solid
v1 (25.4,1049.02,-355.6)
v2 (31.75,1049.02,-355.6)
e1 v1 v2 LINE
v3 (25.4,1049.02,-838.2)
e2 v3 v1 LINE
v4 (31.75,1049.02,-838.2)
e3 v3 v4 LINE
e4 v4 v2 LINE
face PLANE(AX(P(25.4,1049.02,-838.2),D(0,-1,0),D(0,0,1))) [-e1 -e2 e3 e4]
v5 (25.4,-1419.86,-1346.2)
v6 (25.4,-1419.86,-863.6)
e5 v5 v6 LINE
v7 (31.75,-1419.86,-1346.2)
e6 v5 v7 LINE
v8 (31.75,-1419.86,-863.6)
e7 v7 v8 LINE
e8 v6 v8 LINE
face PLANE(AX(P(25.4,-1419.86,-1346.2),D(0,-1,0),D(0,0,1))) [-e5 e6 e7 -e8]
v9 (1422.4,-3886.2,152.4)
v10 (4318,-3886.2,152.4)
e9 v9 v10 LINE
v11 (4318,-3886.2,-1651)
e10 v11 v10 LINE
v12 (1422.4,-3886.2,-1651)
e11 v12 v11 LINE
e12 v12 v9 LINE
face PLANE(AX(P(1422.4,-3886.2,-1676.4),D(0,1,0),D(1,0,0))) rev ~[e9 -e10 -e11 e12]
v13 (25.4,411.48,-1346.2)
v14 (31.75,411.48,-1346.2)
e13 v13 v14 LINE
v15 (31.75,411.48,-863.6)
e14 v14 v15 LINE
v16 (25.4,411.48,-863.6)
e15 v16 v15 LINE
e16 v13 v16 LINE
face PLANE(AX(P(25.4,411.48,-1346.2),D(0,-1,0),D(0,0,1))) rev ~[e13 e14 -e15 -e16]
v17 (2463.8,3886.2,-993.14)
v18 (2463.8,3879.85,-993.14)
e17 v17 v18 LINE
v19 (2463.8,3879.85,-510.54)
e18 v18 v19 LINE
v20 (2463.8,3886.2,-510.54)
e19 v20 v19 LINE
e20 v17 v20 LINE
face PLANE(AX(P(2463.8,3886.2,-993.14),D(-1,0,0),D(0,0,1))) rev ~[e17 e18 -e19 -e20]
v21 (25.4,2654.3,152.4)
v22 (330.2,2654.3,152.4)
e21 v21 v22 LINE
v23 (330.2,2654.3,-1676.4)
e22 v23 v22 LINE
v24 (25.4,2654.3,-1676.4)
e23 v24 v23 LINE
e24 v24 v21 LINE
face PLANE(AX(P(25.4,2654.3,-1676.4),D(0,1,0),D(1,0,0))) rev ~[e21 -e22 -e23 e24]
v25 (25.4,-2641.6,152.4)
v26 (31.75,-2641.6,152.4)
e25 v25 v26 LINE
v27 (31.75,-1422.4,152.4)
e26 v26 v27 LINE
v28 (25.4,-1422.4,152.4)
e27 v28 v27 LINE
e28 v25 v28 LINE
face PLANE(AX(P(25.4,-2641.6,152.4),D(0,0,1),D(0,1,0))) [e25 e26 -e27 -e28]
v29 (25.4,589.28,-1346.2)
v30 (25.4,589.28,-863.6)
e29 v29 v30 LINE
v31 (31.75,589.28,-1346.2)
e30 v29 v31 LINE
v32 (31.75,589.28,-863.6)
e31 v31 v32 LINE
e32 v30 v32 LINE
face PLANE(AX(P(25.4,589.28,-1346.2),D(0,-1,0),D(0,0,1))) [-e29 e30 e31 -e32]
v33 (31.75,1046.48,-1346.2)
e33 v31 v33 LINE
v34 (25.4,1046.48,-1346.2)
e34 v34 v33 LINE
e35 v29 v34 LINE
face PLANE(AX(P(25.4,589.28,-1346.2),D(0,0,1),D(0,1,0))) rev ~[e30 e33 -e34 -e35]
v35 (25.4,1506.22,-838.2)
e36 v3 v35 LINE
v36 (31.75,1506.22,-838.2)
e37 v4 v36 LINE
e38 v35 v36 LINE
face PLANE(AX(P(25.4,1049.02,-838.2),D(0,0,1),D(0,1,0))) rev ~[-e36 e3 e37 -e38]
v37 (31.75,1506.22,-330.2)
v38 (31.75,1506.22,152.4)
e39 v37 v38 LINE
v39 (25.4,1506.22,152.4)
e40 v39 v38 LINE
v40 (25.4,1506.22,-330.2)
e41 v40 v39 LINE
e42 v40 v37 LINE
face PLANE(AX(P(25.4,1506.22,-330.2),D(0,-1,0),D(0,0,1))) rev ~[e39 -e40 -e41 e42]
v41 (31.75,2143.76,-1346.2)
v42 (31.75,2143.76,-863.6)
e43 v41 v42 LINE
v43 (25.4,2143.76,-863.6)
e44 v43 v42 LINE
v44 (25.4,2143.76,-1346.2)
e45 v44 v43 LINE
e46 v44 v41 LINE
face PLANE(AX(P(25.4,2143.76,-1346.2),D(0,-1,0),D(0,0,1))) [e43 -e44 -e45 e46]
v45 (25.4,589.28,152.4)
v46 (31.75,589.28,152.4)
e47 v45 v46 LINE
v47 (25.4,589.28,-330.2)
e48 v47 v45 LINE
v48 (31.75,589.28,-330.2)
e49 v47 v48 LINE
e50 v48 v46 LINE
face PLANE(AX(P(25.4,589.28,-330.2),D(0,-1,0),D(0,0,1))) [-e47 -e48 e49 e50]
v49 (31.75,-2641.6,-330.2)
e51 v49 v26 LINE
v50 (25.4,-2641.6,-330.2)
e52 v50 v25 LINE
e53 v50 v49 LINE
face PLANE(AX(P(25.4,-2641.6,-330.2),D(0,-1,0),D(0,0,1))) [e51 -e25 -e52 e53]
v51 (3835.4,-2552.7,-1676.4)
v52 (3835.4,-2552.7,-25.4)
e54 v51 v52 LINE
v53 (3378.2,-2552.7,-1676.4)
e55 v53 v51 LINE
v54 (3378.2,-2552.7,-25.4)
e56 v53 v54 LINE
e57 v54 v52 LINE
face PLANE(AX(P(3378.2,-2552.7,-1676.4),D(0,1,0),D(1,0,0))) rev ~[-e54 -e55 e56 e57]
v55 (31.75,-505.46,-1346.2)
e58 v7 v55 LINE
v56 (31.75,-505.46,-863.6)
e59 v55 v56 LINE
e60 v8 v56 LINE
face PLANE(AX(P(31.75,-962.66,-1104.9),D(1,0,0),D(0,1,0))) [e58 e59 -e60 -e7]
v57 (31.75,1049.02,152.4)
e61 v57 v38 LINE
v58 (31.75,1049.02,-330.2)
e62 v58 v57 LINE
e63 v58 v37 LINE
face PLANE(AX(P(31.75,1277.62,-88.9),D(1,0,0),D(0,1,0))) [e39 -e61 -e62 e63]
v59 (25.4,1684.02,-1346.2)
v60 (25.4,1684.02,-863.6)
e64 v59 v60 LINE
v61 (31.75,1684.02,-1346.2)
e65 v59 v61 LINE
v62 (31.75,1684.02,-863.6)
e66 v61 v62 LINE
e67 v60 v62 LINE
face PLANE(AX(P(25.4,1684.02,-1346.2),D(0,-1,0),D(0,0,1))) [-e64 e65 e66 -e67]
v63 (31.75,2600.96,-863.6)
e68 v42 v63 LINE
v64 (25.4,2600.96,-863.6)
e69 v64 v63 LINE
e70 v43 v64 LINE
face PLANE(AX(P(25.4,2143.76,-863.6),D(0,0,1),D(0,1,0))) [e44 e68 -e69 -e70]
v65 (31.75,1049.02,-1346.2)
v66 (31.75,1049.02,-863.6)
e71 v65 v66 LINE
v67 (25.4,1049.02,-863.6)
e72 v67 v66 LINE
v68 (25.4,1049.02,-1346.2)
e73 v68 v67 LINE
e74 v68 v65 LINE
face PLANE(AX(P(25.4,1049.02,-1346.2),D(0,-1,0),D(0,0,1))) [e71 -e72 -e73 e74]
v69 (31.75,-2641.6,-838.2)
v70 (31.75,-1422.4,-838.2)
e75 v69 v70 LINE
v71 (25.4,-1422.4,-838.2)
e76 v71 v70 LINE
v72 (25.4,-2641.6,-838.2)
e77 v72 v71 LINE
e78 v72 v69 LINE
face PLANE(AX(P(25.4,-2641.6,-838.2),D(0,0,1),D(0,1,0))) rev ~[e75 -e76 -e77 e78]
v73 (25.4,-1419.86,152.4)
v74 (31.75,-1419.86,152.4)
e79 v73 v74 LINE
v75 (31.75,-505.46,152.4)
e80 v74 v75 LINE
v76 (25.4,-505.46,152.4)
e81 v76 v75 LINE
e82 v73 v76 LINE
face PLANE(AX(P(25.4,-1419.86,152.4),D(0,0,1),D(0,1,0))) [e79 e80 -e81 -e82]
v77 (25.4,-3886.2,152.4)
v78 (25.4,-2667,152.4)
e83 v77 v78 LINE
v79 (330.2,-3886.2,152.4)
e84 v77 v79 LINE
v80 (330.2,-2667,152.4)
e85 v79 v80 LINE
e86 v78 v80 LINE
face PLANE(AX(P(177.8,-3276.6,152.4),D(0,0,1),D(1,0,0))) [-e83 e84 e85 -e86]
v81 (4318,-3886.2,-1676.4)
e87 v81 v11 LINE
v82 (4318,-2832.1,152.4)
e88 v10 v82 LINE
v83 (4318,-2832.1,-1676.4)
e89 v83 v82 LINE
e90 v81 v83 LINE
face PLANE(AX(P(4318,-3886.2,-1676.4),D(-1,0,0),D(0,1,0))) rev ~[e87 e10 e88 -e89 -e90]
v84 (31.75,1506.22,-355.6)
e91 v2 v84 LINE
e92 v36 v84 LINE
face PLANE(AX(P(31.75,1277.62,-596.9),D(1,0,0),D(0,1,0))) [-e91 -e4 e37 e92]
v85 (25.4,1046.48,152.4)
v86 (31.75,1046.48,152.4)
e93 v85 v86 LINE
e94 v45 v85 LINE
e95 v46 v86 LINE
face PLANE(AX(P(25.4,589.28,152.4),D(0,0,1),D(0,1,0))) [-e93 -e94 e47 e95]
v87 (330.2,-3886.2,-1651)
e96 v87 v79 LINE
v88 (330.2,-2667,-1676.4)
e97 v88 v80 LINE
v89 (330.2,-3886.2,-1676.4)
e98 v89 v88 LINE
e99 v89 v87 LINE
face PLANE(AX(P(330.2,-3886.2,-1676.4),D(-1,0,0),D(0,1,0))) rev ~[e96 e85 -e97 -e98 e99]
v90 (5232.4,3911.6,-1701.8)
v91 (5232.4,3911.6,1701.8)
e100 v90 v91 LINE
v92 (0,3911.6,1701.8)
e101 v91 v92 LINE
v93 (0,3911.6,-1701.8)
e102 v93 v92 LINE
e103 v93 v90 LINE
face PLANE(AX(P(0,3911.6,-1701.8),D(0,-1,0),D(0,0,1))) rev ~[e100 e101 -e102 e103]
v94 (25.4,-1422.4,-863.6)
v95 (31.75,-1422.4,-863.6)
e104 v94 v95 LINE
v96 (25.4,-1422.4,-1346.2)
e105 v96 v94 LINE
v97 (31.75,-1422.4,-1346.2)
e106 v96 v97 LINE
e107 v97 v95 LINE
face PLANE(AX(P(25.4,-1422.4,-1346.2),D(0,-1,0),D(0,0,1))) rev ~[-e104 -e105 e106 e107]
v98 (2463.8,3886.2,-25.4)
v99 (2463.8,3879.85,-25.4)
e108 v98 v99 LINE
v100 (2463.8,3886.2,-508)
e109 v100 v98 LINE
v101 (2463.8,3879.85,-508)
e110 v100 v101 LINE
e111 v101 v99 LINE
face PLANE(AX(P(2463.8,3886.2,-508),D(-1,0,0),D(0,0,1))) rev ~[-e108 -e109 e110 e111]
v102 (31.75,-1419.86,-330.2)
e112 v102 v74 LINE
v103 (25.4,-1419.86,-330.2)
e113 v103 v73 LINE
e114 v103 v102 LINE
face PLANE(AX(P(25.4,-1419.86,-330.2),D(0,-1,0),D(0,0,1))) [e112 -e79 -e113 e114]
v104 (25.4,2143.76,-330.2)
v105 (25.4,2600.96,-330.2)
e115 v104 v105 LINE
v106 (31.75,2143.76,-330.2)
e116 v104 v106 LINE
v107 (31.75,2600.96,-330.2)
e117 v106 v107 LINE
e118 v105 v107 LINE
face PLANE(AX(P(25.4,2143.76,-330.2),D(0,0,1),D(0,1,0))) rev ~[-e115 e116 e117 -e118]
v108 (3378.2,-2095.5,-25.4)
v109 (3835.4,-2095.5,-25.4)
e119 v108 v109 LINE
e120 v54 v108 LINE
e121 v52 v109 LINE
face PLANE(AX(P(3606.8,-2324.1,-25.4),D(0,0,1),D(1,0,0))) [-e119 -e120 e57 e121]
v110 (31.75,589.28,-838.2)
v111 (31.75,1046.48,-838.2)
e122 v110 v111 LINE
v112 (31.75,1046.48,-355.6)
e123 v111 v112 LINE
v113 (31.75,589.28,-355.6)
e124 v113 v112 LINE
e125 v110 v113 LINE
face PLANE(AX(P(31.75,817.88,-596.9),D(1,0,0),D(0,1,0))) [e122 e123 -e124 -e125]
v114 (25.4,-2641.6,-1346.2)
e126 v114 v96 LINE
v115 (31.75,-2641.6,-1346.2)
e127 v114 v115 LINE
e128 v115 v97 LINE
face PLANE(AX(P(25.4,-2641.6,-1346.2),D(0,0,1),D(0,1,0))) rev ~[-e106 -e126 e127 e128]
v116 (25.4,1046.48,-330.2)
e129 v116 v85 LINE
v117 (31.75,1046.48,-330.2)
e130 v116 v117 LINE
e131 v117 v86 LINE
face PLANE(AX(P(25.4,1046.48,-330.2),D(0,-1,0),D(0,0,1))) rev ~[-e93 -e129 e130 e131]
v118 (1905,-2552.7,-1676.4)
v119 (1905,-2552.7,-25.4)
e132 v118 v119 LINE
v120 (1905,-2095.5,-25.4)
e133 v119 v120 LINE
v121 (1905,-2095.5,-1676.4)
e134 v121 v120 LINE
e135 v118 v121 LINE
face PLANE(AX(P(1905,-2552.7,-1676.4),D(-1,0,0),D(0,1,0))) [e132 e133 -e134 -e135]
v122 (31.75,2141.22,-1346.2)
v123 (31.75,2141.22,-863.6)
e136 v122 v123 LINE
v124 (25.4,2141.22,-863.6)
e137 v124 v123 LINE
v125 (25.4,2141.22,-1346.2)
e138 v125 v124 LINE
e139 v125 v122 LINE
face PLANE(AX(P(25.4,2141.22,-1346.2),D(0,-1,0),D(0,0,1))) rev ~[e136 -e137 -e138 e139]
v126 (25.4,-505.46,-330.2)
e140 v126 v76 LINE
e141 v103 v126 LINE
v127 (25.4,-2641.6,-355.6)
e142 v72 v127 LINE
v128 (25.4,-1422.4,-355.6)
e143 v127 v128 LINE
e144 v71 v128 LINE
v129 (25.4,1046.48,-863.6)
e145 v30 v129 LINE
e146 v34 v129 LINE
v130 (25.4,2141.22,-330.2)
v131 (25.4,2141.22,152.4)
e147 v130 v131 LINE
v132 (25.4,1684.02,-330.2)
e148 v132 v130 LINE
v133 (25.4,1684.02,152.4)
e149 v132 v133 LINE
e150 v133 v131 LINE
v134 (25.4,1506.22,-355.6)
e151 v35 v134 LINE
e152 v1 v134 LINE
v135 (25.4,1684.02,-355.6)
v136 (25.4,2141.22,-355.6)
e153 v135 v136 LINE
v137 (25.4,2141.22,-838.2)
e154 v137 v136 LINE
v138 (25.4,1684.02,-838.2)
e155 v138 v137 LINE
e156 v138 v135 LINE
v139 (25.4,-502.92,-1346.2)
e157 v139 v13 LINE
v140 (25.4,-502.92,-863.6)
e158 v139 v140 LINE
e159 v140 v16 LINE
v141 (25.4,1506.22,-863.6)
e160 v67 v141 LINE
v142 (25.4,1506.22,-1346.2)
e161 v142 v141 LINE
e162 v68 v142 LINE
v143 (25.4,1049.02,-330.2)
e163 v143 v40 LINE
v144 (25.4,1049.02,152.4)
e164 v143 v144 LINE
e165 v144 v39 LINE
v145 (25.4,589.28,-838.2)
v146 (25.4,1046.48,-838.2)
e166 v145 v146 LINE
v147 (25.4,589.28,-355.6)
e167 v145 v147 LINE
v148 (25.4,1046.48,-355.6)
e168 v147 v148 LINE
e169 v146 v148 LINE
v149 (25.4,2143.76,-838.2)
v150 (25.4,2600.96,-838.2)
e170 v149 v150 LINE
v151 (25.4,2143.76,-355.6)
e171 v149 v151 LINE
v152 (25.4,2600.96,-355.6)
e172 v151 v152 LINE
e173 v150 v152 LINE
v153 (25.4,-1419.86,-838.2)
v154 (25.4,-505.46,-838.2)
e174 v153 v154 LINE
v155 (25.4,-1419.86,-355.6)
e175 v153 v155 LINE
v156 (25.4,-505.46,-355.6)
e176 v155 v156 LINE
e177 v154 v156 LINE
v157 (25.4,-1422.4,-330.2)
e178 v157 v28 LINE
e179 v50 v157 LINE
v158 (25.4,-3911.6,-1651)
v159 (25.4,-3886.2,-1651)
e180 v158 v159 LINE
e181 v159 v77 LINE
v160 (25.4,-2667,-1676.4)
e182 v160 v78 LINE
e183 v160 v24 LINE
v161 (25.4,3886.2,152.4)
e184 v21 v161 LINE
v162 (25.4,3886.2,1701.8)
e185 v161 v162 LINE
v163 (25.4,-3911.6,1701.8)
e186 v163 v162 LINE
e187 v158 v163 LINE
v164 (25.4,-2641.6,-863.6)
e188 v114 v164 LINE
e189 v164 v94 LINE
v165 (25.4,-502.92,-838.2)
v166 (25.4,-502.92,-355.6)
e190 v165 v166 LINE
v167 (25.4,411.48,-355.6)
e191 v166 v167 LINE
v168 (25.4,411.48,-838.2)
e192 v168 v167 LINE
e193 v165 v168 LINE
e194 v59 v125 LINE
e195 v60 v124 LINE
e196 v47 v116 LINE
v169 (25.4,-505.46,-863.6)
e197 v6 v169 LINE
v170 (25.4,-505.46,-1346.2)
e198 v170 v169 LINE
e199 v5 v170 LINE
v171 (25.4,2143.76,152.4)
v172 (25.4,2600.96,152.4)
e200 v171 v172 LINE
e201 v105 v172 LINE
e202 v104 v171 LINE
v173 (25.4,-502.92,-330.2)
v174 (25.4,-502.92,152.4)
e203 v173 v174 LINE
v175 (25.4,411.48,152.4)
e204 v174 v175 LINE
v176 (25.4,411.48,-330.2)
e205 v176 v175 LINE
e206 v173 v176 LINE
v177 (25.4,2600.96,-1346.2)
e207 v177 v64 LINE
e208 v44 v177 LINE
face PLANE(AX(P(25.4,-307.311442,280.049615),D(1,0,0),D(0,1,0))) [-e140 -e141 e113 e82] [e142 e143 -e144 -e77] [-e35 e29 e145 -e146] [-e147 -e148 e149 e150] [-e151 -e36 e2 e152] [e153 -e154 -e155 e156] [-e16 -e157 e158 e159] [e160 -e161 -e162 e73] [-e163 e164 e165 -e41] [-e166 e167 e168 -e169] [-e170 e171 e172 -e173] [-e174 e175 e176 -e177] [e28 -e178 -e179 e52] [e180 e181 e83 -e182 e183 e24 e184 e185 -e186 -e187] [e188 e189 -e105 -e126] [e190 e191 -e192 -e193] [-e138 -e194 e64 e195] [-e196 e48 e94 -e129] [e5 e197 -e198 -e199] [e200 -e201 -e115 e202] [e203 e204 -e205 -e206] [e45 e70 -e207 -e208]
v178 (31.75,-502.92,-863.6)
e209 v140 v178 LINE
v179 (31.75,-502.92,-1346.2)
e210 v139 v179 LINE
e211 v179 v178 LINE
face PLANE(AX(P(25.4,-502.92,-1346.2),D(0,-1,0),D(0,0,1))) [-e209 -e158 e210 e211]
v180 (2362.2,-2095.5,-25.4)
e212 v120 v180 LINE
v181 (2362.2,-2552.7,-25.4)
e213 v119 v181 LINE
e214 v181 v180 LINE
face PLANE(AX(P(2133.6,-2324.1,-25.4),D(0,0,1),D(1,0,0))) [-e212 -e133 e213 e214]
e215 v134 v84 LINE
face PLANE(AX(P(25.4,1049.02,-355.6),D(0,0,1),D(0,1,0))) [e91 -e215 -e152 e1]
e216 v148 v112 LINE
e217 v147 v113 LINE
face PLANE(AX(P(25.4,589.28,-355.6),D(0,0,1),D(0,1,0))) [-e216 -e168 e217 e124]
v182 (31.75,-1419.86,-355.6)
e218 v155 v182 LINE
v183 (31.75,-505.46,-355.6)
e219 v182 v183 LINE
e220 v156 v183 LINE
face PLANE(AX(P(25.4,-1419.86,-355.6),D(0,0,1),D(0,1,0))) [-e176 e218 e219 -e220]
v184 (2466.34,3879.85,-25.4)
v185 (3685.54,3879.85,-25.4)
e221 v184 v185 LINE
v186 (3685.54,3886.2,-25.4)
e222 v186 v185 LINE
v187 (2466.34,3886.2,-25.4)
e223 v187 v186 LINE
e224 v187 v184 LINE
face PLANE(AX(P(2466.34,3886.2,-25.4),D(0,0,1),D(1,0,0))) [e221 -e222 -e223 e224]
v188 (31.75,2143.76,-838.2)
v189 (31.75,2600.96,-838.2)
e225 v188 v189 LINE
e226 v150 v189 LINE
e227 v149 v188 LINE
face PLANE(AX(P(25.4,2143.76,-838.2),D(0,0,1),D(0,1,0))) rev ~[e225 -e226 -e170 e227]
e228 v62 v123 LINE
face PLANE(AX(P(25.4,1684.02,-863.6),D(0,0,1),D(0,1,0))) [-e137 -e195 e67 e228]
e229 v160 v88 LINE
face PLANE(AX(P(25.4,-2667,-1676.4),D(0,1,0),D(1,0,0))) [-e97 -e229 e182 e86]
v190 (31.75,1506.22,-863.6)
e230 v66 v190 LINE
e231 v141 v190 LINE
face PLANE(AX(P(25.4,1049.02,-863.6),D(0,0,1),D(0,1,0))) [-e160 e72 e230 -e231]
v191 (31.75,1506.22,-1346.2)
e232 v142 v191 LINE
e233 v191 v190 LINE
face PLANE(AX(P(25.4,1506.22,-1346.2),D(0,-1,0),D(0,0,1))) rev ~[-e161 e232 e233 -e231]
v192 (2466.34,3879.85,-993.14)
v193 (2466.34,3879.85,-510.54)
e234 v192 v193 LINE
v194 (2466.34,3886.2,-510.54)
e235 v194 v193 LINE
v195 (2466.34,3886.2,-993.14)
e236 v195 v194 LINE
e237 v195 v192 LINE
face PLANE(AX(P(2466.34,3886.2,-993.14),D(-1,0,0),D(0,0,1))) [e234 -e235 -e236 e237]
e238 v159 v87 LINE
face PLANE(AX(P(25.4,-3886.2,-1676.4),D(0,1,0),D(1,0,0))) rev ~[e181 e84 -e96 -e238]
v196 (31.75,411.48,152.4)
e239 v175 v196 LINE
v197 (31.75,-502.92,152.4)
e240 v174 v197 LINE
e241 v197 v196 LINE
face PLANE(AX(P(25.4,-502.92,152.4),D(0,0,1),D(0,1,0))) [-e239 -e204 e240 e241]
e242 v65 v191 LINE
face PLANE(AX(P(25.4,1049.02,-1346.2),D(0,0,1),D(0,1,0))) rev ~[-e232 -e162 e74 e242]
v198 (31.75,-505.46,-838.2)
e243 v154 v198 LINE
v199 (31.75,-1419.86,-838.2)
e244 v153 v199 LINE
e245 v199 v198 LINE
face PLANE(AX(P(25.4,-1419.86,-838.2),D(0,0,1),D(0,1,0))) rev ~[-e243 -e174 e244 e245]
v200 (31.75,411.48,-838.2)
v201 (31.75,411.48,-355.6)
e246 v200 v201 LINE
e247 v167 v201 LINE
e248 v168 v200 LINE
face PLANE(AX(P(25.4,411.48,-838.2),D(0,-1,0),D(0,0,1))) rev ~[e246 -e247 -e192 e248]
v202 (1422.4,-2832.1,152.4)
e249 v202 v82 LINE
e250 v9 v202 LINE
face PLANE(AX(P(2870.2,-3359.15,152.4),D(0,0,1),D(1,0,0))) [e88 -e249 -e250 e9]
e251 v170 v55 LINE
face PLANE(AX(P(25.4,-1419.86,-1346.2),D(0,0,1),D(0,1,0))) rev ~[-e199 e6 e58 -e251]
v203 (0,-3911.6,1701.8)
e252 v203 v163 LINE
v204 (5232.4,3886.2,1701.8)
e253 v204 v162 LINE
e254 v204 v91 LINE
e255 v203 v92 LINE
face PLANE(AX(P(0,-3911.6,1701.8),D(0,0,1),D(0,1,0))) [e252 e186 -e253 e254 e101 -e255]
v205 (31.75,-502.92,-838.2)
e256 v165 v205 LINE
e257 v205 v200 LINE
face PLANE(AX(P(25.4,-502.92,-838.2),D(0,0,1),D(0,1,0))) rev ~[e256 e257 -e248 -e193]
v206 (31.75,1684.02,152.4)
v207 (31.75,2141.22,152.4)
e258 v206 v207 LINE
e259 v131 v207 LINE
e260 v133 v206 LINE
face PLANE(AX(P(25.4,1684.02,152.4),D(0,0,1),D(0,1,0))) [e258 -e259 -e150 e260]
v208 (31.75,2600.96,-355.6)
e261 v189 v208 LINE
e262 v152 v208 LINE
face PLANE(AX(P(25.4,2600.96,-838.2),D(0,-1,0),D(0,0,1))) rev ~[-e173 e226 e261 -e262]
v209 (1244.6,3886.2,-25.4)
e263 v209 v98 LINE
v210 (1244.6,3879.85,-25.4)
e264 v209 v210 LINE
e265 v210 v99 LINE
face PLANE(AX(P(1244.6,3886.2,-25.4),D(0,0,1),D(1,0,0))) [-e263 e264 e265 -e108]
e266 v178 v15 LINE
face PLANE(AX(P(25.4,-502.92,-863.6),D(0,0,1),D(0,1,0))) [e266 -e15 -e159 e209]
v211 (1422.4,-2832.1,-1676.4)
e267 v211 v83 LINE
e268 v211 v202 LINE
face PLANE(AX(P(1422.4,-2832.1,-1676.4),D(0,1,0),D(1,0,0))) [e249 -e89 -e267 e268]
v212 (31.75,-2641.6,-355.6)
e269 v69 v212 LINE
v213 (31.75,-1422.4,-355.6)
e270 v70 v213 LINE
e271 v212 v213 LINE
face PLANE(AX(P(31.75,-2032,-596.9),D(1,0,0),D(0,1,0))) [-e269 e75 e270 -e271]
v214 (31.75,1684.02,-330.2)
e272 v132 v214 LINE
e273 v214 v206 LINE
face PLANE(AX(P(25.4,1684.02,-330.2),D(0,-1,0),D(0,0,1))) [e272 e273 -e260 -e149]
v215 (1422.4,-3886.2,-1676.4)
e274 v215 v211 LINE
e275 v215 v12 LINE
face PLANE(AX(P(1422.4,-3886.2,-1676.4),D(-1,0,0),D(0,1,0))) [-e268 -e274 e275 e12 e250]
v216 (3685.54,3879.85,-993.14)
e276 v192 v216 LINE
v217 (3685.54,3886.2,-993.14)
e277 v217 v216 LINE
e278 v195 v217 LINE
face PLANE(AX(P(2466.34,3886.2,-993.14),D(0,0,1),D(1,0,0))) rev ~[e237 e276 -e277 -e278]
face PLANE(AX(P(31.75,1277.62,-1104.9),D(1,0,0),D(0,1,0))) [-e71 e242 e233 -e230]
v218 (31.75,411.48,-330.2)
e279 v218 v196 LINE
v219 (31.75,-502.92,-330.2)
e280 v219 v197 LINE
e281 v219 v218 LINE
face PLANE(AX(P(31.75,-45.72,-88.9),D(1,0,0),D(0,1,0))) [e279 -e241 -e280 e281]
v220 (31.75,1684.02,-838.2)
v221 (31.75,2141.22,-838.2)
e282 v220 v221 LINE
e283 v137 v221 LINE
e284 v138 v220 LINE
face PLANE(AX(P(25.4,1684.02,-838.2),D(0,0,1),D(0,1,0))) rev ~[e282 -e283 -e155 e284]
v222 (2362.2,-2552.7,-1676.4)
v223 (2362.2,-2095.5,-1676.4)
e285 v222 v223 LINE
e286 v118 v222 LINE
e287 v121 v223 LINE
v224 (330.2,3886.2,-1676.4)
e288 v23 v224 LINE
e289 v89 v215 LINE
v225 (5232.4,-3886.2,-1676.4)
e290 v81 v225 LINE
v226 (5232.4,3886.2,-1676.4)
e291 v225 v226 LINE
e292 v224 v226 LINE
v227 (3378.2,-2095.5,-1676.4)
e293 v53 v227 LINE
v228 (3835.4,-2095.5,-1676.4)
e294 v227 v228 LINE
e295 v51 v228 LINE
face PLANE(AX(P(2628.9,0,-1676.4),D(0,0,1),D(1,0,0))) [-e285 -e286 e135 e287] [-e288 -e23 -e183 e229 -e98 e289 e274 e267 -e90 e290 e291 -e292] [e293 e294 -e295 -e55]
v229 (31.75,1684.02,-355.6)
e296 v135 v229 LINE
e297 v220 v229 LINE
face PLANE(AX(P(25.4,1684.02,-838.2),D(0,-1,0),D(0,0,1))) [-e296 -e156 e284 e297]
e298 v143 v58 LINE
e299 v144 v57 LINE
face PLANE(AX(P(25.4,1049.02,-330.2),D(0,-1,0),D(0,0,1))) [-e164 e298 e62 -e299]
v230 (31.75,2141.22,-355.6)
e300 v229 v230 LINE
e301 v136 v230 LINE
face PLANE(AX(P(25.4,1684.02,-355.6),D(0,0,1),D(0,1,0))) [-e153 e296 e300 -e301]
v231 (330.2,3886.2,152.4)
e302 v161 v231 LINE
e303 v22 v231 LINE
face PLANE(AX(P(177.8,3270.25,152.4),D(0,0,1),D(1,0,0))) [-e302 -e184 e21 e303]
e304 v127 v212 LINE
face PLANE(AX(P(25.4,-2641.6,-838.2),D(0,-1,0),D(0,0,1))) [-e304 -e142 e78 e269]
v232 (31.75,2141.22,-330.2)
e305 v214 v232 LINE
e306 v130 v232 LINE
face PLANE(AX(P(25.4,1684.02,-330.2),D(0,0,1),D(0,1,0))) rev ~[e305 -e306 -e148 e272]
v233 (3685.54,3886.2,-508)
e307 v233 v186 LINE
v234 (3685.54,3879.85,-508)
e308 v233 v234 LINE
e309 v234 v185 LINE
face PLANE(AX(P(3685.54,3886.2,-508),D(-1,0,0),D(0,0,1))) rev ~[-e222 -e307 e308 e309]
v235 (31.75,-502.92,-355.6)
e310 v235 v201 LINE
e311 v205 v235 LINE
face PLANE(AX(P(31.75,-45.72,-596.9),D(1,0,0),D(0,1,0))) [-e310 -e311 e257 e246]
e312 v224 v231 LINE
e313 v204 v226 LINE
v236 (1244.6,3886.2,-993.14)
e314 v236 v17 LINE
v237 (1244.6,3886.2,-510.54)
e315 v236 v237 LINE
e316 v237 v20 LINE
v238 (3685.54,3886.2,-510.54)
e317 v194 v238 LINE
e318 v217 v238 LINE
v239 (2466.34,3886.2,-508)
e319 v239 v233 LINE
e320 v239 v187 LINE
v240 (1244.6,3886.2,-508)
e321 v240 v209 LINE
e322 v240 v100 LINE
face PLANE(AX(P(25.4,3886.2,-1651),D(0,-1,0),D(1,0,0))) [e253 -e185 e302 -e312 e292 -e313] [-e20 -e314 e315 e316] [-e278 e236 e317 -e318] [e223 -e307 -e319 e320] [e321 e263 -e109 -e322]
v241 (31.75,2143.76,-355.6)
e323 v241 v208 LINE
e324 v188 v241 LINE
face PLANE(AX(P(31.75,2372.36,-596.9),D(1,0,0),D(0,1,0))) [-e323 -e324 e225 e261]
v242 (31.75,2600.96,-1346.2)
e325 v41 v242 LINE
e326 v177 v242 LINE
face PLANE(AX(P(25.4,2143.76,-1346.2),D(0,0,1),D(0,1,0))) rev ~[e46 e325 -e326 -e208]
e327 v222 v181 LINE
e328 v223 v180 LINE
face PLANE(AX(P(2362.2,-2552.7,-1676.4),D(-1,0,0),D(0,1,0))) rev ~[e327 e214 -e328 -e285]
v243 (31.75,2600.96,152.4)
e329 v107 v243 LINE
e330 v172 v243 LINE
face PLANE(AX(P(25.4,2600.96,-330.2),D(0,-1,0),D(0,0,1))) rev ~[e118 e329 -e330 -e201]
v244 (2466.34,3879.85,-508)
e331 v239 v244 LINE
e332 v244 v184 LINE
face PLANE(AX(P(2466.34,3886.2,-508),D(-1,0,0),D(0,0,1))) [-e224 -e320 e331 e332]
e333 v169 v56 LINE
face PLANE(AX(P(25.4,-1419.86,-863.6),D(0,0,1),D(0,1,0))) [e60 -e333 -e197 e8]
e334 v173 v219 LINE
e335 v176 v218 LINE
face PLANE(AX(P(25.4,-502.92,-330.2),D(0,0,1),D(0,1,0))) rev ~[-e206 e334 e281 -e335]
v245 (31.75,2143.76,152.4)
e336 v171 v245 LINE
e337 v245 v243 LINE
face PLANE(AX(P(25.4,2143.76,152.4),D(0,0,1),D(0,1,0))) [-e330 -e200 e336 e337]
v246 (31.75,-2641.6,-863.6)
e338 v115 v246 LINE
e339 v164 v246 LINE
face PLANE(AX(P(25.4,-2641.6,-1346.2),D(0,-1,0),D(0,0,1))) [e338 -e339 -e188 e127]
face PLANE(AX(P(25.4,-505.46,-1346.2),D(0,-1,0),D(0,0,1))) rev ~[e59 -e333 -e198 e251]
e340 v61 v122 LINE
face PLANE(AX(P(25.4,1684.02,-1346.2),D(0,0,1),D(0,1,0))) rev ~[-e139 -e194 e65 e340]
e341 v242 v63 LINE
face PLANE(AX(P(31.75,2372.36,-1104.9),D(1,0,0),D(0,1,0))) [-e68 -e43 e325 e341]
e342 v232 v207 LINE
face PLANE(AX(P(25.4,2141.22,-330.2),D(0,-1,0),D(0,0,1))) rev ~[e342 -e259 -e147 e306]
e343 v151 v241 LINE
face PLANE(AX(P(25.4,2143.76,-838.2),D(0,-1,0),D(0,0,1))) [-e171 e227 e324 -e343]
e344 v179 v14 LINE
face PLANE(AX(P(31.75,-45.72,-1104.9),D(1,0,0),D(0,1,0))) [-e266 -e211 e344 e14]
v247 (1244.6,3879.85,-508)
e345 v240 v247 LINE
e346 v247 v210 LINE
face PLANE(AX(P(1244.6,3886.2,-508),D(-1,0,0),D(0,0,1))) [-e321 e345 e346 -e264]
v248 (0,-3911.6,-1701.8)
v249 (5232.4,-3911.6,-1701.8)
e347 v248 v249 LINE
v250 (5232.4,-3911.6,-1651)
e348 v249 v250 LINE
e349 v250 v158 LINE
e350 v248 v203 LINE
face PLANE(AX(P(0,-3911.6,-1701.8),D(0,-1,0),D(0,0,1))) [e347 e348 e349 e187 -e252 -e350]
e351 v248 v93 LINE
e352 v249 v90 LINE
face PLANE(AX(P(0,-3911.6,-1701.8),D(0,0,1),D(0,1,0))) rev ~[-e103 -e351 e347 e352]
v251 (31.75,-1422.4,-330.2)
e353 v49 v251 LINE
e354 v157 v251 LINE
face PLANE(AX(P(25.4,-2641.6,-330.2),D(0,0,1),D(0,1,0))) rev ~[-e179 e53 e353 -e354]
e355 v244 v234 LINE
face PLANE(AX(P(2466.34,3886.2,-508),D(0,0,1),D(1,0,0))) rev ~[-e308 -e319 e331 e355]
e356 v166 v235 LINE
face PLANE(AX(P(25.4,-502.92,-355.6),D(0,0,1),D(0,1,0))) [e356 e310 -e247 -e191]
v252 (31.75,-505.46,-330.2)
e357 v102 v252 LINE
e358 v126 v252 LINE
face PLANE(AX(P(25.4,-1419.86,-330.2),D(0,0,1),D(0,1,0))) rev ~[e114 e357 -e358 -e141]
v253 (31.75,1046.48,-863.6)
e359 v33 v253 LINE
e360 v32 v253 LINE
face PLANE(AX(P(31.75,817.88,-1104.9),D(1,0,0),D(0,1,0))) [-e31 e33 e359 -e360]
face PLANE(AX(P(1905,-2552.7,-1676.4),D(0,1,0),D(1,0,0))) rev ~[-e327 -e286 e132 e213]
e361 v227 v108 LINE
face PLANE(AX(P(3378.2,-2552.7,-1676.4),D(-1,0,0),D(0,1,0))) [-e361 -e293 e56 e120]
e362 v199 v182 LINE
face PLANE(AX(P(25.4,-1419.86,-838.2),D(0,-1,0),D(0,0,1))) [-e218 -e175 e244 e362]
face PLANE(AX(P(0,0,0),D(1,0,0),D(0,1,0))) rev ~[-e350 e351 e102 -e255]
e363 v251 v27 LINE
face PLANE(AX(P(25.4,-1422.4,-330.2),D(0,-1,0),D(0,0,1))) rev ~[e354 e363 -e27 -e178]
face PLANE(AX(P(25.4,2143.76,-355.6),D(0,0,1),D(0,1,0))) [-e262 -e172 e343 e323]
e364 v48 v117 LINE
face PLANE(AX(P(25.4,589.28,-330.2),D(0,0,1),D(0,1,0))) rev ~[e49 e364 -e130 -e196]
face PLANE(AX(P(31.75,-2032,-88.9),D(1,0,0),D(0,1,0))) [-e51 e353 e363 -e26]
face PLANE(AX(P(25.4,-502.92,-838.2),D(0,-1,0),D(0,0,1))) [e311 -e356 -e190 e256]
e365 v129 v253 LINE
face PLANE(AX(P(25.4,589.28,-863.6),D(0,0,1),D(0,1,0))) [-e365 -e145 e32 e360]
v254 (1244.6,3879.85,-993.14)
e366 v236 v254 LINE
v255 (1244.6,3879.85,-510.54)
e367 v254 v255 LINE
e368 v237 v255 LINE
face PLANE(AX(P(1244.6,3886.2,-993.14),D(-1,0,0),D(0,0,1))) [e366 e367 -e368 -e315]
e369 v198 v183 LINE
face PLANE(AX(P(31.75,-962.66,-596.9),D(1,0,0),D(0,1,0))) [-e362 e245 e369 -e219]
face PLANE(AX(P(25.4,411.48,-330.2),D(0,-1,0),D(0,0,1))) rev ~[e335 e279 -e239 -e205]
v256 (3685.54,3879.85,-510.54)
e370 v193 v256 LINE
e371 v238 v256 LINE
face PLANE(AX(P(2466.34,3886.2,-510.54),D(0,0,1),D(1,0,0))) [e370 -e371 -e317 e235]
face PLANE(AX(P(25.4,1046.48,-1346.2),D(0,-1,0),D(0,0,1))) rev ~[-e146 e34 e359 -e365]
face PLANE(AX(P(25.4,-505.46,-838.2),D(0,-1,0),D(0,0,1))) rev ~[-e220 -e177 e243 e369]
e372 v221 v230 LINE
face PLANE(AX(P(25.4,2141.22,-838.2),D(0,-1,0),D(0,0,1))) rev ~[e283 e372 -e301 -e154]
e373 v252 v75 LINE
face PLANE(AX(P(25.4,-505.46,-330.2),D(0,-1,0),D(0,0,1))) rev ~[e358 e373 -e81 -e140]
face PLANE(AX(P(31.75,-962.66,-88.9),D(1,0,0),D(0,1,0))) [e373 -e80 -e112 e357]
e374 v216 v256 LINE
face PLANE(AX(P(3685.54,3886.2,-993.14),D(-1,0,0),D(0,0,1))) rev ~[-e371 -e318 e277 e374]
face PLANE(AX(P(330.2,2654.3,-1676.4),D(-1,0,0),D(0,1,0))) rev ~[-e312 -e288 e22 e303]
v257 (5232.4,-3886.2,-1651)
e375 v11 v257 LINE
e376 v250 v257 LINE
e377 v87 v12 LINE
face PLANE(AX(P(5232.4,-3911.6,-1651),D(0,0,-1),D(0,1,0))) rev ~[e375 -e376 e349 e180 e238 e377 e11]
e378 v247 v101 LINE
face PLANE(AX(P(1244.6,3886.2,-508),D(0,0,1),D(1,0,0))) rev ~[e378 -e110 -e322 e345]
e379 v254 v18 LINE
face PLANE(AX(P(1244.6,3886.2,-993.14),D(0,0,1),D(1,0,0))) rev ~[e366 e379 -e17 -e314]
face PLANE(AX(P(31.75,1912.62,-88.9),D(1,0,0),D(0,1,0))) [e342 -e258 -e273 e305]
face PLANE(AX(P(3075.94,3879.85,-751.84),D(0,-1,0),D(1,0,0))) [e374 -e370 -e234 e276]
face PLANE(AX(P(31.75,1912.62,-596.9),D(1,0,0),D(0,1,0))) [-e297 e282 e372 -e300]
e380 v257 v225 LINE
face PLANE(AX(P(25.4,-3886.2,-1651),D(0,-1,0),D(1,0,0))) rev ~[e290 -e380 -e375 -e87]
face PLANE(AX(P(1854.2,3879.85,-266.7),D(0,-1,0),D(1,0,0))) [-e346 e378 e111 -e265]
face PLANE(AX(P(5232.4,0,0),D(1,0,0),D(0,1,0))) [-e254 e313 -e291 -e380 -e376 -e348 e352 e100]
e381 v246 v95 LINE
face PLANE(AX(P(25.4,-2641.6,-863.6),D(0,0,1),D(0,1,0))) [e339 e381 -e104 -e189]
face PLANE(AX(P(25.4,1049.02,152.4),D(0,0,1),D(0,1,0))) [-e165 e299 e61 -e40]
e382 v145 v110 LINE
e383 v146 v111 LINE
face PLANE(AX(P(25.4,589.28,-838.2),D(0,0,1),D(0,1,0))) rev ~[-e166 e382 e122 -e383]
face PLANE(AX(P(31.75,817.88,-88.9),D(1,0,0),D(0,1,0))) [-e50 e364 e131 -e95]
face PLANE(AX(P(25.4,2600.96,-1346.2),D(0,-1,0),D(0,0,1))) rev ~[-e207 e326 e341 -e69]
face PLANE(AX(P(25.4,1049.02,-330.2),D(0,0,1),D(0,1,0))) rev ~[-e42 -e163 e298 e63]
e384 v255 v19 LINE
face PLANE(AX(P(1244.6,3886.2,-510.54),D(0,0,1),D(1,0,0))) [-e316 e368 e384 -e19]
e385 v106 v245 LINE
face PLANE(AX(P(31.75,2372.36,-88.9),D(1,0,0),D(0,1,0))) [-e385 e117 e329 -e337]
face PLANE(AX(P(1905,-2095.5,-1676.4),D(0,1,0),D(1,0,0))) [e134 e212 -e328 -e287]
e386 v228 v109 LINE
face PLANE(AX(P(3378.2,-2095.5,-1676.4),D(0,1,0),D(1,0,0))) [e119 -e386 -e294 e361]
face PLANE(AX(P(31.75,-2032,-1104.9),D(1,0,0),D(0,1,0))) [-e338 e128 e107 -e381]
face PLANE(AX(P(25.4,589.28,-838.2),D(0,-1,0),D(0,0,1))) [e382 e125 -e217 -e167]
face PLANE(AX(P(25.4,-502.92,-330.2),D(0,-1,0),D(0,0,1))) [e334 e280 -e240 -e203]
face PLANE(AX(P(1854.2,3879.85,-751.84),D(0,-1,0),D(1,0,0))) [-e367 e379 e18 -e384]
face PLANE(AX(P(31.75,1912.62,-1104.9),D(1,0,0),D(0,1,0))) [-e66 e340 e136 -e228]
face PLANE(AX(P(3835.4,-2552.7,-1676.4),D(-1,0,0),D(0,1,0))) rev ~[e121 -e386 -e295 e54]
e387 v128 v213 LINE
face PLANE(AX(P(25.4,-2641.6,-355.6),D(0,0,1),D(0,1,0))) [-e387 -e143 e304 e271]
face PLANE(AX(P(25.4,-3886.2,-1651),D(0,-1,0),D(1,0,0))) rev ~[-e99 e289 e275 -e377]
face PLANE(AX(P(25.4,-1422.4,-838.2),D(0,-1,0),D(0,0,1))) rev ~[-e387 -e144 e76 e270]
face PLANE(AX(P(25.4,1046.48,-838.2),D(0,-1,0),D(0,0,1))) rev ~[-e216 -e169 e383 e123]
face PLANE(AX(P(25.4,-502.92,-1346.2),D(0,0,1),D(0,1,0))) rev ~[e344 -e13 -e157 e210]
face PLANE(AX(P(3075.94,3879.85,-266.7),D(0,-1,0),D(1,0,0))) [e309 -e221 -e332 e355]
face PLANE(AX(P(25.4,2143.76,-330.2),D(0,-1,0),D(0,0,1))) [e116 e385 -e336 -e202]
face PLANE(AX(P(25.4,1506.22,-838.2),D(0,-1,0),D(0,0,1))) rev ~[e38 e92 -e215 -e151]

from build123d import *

# Parameters (mm, degrees)
F0_W      = 7823.2
F0_H      = 3403.6
F1_DEPTH  = 5232.4
F3_DEPTH  = 5207
F4_W      = 5207
F4_H      = 7772.4
F5_DEPTH  = 25.4
F6_W      = 2895.6
F6_H      = 1054.1
F7_DEPTH  = 1828.8
F8_W      = 1219.2
F8_H      = 482.6
F8_W_2    = 914.4
F9_DEPTH  = 6.35
F10_W     = 457.2
F10_H     = 482.6
F11_DEPTH = 6.35
F12_W     = 1219.2
F12_H     = 482.6
F13_DEPTH = 6.35
F14_W     = 304.8
F14_H     = 1231.9
F15_DEPTH = 1828.8
F16_W     = 304.8
F16_H     = 1219.2
F17_DEPTH = 1828.8
F18_W     = 457.2
F18_H     = 457.2
F19_DEPTH = 1651


with BuildPart() as f1:
    # F0 (on Right) → F1 (new body)
    with BuildSketch(Plane.YZ):
        Rectangle(F0_W, F0_H)
    extrude(amount=F1_DEPTH)

    # F2 (on face) → F3 (cut)
    with BuildSketch(Plane.YZ.offset(5232.4)):
        Polygon((3886.2, 1701.8), (3911.6, 1701.8), (3976.405621, 2212.079525), (-4512.191772, 2212.079525), (-4512.191772, -1701.8), (-3911.6, -1701.8), (-3911.6, -1651), (3886.2, -1651), align=None)
    extrude(amount=-F3_DEPTH, mode=Mode.SUBTRACT)

    # F4 (on face) → F5 (cut)
    with BuildSketch(Plane.XY.offset(-1651)):
        with Locations((2628.9, 0)):
            Rectangle(F4_W, F4_H)
    extrude(amount=-F5_DEPTH, mode=Mode.SUBTRACT)

    # F6 (on face) → F7 (join)
    with BuildSketch(Plane.XY.offset(-1676.4)):
        with Locations((2870.2, -3359.15)):
            Rectangle(F6_W, F6_H)
    extrude(amount=F7_DEPTH)

    # F8 (on face) → F9 (join)
    with BuildSketch(Plane.YZ.offset(25.4)):
        with Locations((-2032, -88.9)):
            Rectangle(F8_W, F8_H)
        with Locations((-2032, -596.9)):
            Rectangle(F8_W, F8_H)
        with Locations((-2032, -1104.9)):
            Rectangle(F8_W, F8_H)
        with Locations((-962.66, -88.9)):
            Rectangle(F8_W_2, F8_H)
        with Locations((-962.66, -596.9)):
            Rectangle(F8_W_2, F8_H)
        with Locations((-962.66, -1104.9)):
            Rectangle(F8_W_2, F8_H)
        with Locations((-45.72, -88.9)):
            Rectangle(F8_W_2, F8_H)
        with Locations((-45.72, -596.9)):
            Rectangle(F8_W_2, F8_H)
        with Locations((-45.72, -1104.9)):
            Rectangle(F8_W_2, F8_H)
    extrude(amount=F9_DEPTH)

    # F10 (on face) → F11 (join)
    with BuildSketch(Plane.YZ.offset(25.4)):
        with Locations((817.88, -88.9)):
            Rectangle(F10_W, F10_H)
        with Locations((817.88, -596.9)):
            Rectangle(F10_W, F10_H)
        with Locations((817.88, -1104.9)):
            Rectangle(F10_W, F10_H)
        with Locations((1277.62, -88.9)):
            Rectangle(F10_W, F10_H)
        with Locations((1277.62, -596.9)):
            Rectangle(F10_W, F10_H)
        with Locations((1277.62, -1104.9)):
            Rectangle(F10_W, F10_H)
        with Locations((1912.62, -88.9)):
            Rectangle(F10_W, F10_H)
        with Locations((1912.62, -596.9)):
            Rectangle(F10_W, F10_H)
        with Locations((1912.62, -1104.9)):
            Rectangle(F10_W, F10_H)
        with Locations((2372.36, -88.9)):
            Rectangle(F10_W, F10_H)
        with Locations((2372.36, -596.9)):
            Rectangle(F10_W, F10_H)
        with Locations((2372.36, -1104.9)):
            Rectangle(F10_W, F10_H)
    extrude(amount=F11_DEPTH)

    # F12 (on face) → F13 (join)
    with BuildSketch(Plane.XZ.offset(-3886.2)):
        with Locations((1854.2, -266.7)):
            Rectangle(F12_W, F12_H)
        with Locations((3075.94, -266.7)):
            Rectangle(F12_W, F12_H)
        with Locations((1854.2, -751.84)):
            Rectangle(F12_W, F12_H)
        with Locations((3075.94, -751.84)):
            Rectangle(F12_W, F12_H)
    extrude(amount=F13_DEPTH)

    # F14 (on face) → F15 (join)
    with BuildSketch(Plane.XY.offset(-1676.4)):
        with Locations((177.8, 3270.25)):
            Rectangle(F14_W, F14_H)
    extrude(amount=F15_DEPTH)

    # F16 (on face) → F17 (join)
    with BuildSketch(Plane.XY.offset(-1676.4)):
        with Locations((177.8, -3276.6)):
            Rectangle(F16_W, F16_H)
    extrude(amount=F17_DEPTH)

    # F18 (on face) → F19 (join)
    with BuildSketch(Plane.XY.offset(-1676.4)):
        with Locations((2133.6, -2324.1)):
            Rectangle(F18_W, F18_H)
        with Locations((3606.8, -2324.1)):
            Rectangle(F18_W, F18_H)
    extrude(amount=F19_DEPTH)


solid = f1.part
